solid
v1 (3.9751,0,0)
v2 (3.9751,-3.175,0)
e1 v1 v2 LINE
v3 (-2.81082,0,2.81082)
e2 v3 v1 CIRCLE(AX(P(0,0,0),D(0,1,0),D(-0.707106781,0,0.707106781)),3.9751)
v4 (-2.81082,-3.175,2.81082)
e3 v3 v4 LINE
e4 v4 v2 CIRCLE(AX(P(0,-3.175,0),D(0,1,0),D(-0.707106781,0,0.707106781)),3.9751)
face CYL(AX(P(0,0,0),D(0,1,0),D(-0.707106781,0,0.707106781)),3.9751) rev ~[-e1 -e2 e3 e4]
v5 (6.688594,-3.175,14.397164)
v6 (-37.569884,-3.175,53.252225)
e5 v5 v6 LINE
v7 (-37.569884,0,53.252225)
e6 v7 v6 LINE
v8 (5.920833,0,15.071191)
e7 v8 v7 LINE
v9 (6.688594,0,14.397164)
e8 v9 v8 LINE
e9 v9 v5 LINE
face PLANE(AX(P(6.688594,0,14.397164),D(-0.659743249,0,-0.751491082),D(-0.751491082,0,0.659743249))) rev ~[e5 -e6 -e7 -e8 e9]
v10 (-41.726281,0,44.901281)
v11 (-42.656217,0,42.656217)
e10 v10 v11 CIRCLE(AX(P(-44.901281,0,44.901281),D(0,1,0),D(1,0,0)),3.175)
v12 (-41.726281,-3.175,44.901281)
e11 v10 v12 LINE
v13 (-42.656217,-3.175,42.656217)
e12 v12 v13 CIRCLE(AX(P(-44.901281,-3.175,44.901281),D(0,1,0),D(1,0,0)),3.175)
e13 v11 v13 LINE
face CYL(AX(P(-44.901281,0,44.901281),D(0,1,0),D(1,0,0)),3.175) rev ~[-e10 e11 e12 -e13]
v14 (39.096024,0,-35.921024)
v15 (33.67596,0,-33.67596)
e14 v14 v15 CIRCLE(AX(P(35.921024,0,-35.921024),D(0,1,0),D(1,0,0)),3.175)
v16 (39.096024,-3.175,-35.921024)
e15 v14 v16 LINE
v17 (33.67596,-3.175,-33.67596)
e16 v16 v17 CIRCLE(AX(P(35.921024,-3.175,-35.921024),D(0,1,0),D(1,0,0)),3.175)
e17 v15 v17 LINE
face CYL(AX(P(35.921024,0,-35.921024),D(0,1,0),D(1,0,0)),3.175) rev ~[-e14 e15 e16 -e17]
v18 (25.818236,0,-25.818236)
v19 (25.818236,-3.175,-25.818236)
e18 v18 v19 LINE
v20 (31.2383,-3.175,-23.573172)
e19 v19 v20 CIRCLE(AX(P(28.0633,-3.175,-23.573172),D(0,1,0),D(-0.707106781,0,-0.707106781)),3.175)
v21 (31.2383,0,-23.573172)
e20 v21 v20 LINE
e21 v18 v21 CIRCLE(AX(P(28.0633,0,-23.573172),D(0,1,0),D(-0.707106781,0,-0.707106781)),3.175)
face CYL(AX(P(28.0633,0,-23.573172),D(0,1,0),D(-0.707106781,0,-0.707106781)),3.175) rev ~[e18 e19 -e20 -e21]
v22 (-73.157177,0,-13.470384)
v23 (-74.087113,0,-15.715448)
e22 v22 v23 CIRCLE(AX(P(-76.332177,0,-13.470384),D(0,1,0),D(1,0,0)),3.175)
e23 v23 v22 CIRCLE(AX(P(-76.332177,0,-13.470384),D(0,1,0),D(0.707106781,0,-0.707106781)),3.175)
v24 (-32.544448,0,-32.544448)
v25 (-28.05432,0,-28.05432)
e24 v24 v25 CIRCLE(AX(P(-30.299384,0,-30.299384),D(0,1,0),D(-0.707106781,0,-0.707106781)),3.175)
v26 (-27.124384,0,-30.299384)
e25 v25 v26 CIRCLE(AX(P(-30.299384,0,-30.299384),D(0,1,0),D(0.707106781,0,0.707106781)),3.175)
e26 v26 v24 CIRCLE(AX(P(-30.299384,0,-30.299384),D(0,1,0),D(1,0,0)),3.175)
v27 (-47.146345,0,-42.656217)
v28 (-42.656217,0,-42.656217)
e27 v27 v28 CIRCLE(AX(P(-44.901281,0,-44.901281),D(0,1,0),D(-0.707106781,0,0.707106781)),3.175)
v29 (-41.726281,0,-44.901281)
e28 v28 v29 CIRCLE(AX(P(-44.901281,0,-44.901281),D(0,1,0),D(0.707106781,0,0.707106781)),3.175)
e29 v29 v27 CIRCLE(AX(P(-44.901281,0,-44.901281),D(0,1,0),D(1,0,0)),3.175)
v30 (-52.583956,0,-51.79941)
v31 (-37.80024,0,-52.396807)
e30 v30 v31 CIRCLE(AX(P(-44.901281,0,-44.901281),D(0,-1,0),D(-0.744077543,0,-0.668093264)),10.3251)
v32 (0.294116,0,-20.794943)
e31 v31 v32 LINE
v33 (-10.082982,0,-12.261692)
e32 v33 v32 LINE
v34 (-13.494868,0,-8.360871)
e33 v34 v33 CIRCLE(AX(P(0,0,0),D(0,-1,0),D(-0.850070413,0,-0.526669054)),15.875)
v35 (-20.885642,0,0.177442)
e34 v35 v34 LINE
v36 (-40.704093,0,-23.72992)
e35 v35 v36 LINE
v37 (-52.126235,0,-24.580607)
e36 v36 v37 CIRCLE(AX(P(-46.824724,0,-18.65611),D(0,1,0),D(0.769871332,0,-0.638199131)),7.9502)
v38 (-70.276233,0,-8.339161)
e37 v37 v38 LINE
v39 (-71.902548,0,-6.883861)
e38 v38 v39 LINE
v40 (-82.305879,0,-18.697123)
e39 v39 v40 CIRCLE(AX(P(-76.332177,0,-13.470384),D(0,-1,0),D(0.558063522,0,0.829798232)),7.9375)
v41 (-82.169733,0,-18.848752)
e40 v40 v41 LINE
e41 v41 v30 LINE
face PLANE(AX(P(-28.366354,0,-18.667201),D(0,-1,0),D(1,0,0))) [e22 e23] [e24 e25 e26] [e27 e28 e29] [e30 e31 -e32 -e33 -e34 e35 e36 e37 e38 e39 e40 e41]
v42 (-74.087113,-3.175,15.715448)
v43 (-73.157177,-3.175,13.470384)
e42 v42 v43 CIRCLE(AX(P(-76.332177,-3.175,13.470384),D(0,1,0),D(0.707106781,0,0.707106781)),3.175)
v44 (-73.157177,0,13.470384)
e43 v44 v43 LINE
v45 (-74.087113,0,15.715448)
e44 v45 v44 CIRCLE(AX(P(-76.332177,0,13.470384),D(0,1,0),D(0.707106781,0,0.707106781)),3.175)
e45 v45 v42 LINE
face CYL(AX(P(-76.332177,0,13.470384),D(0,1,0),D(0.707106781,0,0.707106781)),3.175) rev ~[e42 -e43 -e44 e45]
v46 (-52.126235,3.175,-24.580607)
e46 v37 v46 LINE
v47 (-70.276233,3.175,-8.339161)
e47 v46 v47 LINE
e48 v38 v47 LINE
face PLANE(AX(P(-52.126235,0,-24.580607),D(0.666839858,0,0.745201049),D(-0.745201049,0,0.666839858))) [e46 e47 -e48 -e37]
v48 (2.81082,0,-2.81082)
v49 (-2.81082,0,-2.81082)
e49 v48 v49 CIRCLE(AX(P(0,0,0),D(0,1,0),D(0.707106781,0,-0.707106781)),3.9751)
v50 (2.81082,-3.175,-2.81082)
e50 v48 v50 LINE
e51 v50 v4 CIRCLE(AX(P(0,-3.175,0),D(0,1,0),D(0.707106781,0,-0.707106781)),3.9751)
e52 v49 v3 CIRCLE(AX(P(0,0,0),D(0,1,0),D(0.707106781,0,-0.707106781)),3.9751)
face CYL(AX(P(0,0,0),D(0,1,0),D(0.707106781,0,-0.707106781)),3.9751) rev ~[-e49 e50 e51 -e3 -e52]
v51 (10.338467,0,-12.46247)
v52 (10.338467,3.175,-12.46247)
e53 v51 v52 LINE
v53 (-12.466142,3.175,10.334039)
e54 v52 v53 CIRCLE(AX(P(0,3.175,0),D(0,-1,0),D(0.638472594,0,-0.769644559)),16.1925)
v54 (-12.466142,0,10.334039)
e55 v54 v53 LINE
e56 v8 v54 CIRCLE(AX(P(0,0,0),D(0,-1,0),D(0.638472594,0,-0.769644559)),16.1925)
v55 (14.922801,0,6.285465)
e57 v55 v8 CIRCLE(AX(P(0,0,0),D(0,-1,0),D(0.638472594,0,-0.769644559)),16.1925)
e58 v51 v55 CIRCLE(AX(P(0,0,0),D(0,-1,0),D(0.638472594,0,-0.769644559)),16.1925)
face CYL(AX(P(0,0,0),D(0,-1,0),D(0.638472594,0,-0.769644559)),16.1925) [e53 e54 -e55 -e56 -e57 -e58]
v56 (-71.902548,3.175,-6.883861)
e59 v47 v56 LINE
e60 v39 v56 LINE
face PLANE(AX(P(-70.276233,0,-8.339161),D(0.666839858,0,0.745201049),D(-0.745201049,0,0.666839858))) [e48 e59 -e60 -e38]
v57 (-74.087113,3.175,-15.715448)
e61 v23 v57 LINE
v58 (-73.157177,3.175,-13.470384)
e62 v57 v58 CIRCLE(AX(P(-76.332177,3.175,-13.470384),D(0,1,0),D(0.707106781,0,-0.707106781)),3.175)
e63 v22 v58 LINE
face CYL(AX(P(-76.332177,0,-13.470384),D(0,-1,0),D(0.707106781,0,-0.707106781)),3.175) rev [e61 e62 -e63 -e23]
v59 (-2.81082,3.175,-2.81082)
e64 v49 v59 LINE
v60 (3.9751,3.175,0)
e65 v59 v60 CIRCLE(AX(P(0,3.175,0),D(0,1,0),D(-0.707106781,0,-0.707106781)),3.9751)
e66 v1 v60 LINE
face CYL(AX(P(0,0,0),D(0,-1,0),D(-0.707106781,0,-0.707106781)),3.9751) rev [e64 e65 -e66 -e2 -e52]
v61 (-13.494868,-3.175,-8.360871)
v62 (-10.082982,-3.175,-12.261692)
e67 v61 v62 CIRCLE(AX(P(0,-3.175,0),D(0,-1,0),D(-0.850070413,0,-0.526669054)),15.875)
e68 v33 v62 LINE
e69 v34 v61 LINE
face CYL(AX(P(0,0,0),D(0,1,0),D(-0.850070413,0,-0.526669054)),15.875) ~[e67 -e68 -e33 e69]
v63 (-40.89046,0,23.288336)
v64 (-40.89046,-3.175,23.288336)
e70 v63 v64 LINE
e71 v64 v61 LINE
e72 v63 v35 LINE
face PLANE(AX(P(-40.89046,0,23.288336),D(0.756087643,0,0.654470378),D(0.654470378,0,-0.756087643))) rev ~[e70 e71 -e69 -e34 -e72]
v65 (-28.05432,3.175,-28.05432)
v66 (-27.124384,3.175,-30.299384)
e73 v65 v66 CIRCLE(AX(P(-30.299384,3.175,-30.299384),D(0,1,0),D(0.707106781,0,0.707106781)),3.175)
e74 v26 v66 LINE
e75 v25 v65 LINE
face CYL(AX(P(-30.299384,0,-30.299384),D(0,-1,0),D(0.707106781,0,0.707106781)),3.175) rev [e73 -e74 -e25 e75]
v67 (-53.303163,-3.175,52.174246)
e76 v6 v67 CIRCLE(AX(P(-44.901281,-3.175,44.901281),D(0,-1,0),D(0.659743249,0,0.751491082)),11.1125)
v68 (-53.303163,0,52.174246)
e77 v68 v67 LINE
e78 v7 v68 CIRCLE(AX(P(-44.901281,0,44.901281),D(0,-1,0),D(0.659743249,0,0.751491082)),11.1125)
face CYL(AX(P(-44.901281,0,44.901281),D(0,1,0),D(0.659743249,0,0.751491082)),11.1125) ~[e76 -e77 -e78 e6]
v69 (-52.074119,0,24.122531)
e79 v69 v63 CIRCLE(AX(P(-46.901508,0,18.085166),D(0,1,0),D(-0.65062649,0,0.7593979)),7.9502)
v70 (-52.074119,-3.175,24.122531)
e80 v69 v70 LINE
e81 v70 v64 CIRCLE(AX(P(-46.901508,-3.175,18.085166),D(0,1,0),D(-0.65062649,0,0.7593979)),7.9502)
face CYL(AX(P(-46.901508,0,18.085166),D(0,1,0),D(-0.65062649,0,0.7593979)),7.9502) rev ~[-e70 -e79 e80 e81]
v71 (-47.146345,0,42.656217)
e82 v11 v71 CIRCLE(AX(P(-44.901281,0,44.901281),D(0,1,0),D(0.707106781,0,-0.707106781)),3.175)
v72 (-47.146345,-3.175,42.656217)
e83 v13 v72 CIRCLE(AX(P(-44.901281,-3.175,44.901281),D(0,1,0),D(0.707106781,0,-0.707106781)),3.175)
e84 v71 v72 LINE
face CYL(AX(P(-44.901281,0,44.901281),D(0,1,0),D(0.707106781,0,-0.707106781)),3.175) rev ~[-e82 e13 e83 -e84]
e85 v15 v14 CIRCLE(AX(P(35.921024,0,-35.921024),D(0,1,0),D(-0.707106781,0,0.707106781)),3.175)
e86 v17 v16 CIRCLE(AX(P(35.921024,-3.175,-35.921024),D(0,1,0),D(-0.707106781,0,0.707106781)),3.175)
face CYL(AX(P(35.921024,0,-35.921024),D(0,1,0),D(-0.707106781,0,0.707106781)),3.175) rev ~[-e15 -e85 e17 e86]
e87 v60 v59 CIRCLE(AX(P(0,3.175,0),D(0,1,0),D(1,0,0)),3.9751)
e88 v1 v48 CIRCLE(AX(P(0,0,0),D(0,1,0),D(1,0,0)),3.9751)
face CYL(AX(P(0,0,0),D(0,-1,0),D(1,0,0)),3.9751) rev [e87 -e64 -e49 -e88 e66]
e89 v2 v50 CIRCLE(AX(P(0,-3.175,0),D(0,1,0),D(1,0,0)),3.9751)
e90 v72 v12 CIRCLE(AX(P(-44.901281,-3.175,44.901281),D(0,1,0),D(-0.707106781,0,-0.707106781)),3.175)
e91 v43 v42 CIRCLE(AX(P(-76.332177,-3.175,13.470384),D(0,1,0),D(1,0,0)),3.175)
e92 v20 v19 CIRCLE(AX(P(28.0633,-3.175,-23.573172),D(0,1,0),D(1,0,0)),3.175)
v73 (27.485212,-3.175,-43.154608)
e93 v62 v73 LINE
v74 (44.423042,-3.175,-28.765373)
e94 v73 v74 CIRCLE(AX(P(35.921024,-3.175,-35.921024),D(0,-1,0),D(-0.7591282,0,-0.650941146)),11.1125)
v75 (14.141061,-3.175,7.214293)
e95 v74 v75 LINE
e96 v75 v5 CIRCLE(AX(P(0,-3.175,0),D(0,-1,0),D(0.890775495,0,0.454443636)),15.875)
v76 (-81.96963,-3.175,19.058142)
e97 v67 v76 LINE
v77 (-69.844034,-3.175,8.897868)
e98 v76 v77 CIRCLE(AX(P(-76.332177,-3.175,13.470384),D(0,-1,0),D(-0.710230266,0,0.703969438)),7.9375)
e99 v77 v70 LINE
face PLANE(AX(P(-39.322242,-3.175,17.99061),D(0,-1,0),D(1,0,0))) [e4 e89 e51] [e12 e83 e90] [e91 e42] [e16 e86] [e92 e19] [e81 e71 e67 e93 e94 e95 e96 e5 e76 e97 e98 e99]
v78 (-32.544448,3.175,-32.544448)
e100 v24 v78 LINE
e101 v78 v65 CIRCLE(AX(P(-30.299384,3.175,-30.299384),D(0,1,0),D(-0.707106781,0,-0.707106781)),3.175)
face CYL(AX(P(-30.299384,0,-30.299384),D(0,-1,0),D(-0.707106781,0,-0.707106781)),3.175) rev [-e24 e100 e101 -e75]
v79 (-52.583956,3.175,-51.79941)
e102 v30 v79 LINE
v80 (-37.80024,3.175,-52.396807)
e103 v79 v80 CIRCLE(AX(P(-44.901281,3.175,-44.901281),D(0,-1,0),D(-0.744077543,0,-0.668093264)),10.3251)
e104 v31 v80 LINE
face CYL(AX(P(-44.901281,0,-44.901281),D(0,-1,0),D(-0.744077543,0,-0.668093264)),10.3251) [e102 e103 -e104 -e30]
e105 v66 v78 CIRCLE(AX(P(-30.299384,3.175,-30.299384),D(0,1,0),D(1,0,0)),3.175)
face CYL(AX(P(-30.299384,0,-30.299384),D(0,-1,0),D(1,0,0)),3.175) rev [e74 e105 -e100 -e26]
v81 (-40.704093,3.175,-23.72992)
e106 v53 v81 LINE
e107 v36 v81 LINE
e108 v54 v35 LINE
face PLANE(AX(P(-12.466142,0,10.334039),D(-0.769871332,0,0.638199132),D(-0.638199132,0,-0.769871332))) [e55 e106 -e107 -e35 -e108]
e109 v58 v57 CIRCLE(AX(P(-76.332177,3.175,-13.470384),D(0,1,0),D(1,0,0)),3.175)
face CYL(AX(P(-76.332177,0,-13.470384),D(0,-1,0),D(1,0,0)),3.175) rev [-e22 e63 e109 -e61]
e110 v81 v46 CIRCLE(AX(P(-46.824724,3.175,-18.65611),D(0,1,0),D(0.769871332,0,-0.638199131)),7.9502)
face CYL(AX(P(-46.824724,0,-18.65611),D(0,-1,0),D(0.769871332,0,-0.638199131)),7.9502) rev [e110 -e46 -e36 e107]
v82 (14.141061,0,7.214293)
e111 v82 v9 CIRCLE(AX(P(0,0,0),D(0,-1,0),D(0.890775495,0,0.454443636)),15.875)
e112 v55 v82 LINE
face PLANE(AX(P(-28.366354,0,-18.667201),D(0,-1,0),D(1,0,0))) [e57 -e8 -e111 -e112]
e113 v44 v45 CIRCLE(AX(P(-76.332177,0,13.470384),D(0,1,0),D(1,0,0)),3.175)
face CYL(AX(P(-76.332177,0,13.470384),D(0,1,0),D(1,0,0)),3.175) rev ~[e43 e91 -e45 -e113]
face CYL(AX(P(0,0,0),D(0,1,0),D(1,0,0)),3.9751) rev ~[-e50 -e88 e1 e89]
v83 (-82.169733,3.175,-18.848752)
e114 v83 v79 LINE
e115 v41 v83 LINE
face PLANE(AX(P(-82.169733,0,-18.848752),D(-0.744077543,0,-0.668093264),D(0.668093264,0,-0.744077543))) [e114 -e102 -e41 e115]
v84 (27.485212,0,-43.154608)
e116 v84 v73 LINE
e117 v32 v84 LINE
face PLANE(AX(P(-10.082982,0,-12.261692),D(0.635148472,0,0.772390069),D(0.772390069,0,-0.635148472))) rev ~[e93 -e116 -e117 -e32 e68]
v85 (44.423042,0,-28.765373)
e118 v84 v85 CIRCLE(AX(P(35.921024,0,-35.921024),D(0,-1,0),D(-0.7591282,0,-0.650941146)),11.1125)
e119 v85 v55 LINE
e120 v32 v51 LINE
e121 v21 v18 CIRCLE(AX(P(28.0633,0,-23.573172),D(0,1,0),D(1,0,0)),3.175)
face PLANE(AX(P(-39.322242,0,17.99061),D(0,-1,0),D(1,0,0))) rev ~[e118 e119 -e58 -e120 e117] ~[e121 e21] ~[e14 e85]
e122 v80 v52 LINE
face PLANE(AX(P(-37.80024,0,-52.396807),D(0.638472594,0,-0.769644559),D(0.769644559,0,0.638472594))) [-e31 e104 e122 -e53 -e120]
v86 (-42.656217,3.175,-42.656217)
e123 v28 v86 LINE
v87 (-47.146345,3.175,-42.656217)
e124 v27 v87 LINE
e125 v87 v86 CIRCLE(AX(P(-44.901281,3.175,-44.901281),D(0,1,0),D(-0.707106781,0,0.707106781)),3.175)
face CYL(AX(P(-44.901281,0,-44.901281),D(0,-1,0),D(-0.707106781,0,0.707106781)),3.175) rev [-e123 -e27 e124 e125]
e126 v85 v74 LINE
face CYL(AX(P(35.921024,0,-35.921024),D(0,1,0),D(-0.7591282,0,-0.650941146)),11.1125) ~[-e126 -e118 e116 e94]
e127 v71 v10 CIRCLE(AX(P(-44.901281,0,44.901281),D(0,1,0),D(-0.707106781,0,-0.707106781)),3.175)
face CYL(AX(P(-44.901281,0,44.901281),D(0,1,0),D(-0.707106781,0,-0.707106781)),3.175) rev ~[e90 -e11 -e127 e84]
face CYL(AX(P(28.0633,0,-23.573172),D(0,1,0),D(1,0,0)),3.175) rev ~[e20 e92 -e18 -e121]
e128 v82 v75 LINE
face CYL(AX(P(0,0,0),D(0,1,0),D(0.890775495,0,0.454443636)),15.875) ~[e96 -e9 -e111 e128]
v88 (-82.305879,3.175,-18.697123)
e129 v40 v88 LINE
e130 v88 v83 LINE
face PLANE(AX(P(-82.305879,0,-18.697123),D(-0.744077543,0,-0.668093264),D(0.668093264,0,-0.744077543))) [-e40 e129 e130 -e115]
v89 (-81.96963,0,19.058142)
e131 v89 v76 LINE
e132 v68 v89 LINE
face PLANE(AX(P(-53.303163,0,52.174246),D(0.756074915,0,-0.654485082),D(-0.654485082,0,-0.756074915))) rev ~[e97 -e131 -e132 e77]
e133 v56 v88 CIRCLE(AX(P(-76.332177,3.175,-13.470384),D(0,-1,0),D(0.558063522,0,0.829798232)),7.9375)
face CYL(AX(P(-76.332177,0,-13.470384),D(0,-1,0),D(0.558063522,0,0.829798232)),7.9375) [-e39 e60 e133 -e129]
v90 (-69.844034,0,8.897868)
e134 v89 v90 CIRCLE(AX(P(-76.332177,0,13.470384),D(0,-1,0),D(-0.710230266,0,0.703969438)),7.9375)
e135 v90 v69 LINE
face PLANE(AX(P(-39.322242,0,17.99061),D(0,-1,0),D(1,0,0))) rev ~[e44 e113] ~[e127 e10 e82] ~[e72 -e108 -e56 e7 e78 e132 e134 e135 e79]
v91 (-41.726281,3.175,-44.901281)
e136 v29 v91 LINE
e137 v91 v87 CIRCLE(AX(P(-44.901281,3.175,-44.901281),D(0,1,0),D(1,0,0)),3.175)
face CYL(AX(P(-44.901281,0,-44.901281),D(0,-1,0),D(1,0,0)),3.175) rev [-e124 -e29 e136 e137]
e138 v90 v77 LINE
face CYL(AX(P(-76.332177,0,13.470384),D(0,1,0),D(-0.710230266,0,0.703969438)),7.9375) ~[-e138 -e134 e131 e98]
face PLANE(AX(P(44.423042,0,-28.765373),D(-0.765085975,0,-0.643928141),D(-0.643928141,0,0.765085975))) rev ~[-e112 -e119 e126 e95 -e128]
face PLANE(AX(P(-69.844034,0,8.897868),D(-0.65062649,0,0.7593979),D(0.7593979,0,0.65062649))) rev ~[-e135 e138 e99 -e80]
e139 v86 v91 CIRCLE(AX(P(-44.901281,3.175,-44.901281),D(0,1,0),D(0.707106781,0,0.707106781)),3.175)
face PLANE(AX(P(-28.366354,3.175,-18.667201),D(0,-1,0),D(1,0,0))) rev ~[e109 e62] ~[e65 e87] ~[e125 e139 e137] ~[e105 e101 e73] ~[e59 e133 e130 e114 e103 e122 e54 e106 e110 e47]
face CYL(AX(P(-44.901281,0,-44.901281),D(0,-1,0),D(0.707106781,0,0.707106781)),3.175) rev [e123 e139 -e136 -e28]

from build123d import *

# Parameters (mm, degrees)
F1_DEPTH = 3.175
F3_DEPTH = 3.175


with BuildPart() as f1:
    # F0 (on Front) → F1 (new body)
    with BuildSketch(Plane.XZ):
        with BuildLine():
            ThreePointArc((-13.4948678072, -8.3608712384), (-15.7694846608, 1.8272872063), (-11.2253201513, 11.2253201513))
            Line((-11.2253201513, 11.2253201513), (-37.0435564994, 37.0435564994))
            ThreePointArc((-37.0435564994, 37.0435564994), (-44.9012806053, 33.7887806053), (-52.7590047113, 37.0435564994))
            Line((-52.7590047113, 37.0435564994), (-70.7195169534, 19.0830442573))
            ThreePointArc((-70.7195169534, 19.0830442573), (-68.9988832398, 16.507933926), (-68.3946770291, 13.4703841816))
            ThreePointArc((-68.3946770291, 13.4703841816), (-68.7656870241, 11.0720232299), (-69.8440339436, 8.8978678555))
            Line((-69.8440339436, 8.8978678555), (-52.0741189422, 24.1225312549))
            ThreePointArc((-52.0741189422, 24.1225312549), (-46.3101415882, 26.0133414911), (-40.8904602416, 23.2883364656))
            Line((-40.8904602416, 23.2883364656), (-13.4948678072, -8.3608712384))
        make_face()
        with BuildLine():
            Line((-70.7195169534, 19.0830442573), (-52.7590047113, 37.0435564994))
            ThreePointArc((-52.7590047113, 37.0435564994), (-56.0066011093, 44.501890128), (-53.3031631019, 52.1742460778))
            Line((-53.3031631019, 52.1742460778), (-81.9696297644, 19.0581415947))
            ThreePointArc((-81.9696297644, 19.0581415947), (-76.3497470218, 21.4078647356), (-70.7195169534, 19.0830442573))
        make_face()
        with BuildLine():
            ThreePointArc((-52.7590047113, 37.0435564994), (-44.9012806053, 33.7887806053), (-37.0435564994, 37.0435564994))
            Line((-37.0435564994, 37.0435564994), (-42.6562165751, 42.6562165751))
            ThreePointArc((-42.6562165751, 42.6562165751), (-44.9012806053, 41.7262806053), (-47.1463446356, 42.6562165751))
            Line((-47.1463446356, 42.6562165751), (-52.7590047113, 37.0435564994))
        make_face()
        with BuildLine():
            Line((-37.0435564994, 37.0435564994), (-11.2253201513, 11.2253201513))
            ThreePointArc((-11.2253201513, 11.2253201513), (-2.7677824051, 15.6318586725), (6.6885940582, 14.397164114))
            Line((6.6885940582, 14.397164114), (-37.5698837561, 53.2522252519))
            ThreePointArc((-37.5698837561, 53.2522252519), (-34.7780942558, 49.4848113821), (-33.7887806053, 44.9012806053))
            ThreePointArc((-33.7887806053, 44.9012806053), (-34.6346693003, 40.6487109632), (-37.0435564994, 37.0435564994))
        make_face()
        with BuildLine():
            Line((-42.6562165751, 42.6562165751), (-37.0435564994, 37.0435564994))
            ThreePointArc((-37.0435564994, 37.0435564994), (-34.6346693003, 40.6487109632), (-33.7887806053, 44.9012806053))
            ThreePointArc((-33.7887806053, 44.9012806053), (-34.7780942558, 49.4848113821), (-37.5698837561, 53.2522252519))
            ThreePointArc((-37.5698837561, 53.2522252519), (-45.6608822478, 55.9877886938), (-53.3031631019, 52.1742460778))
            ThreePointArc((-53.3031631019, 52.1742460778), (-56.0066011093, 44.501890128), (-52.7590047113, 37.0435564994))
            Line((-52.7590047113, 37.0435564994), (-47.1463446356, 42.6562165751))
            ThreePointArc((-47.1463446356, 42.6562165751), (-46.1163005031, 47.8345981211), (-41.7262806053, 44.9012806053))
            ThreePointArc((-41.7262806053, 44.9012806053), (-41.9679630896, 43.6862607076), (-42.6562165751, 42.6562165751))
        make_face()
        with BuildLine():
            ThreePointArc((-68.3946770291, 13.4703841816), (-68.9988832398, 16.507933926), (-70.7195169534, 19.0830442573))
            ThreePointArc((-70.7195169534, 19.0830442573), (-76.3497470218, 21.4078647356), (-81.9696297644, 19.0581415947))
            ThreePointArc((-81.9696297644, 19.0581415947), (-81.4300892617, 7.3863725841), (-69.8440339436, 8.8978678555))
            ThreePointArc((-69.8440339436, 8.8978678555), (-68.7656870241, 11.0720232299), (-68.3946770291, 13.4703841816))
        make_face()
        with BuildLine():
            ThreePointArc((-73.1571770291, 13.4703841816), (-79.2654945448, 12.2553642838), (-74.0871129988, 15.7154482119))
            ThreePointArc((-74.0871129988, 15.7154482119), (-73.3988595134, 14.6854040794), (-73.1571770291, 13.4703841816))
        make_face(mode=Mode.SUBTRACT)
        with BuildLine():
            ThreePointArc((-2.8108201659, 2.8108201659), (1.521204912, 3.6725135297), (3.9751, 0))
            ThreePointArc((3.9751, 0), (3.6725135297, -1.521204912), (2.8108201659, -2.8108201659))
            Line((2.8108201659, -2.8108201659), (11.2253201513, -11.2253201513))
            ThreePointArc((11.2253201513, -11.2253201513), (14.6665875786, -6.0750994888), (15.875, 0))
            ThreePointArc((15.875, 0), (15.4354295053, 3.7098707505), (14.1410609782, 7.2142927173))
            ThreePointArc((14.1410609782, 7.2142927173), (11.0166711219, 11.4301610833), (6.6885940582, 14.397164114))
            ThreePointArc((6.6885940582, 14.397164114), (-2.7677824051, 15.6318586725), (-11.2253201513, 11.2253201513))
            Line((-11.2253201513, 11.2253201513), (-2.8108201659, 2.8108201659))
        make_face()
        with BuildLine():
            ThreePointArc((2.8108201659, -2.8108201659), (-2.8108201659, -2.8108201659), (-2.8108201659, 2.8108201659))
            Line((-2.8108201659, 2.8108201659), (-11.2253201513, 11.2253201513))
            ThreePointArc((-11.2253201513, 11.2253201513), (-15.7694846608, 1.8272872063), (-13.4948678072, -8.3608712384))
            ThreePointArc((-13.4948678072, -8.3608712384), (-11.9491778628, -10.4514483878), (-10.0829819903, -12.2616923458))
            ThreePointArc((-10.0829819903, -12.2616923458), (0.7712009789, -15.8562566216), (11.2253201513, -11.2253201513))
            Line((11.2253201513, -11.2253201513), (2.8108201659, -2.8108201659))
        make_face()
        with BuildLine():
            Line((25.8182363481, -25.8182363481), (11.2253201513, -11.2253201513))
            ThreePointArc((11.2253201513, -11.2253201513), (0.7712009789, -15.8562566216), (-10.0829819903, -12.2616923458))
            Line((-10.0829819903, -12.2616923458), (27.4852123563, -43.1546079663))
            ThreePointArc((27.4852123563, -43.1546079663), (24.8166684953, -35.4956607342), (28.0633003783, -28.0633003783))
            Line((28.0633003783, -28.0633003783), (25.8182363481, -25.8182363481))
        make_face()
        with BuildLine():
            ThreePointArc((15.875, 0), (14.6665875786, -6.0750994888), (11.2253201513, -11.2253201513))
            Line((11.2253201513, -11.2253201513), (25.8182363481, -25.8182363481))
            Line((25.8182363481, -25.8182363481), (28.0633003783, -28.0633003783))
            ThreePointArc((28.0633003783, -28.0633003783), (36.3974750277, -24.8187431363), (44.4230423823, -28.7653730177))
            Line((44.4230423823, -28.7653730177), (14.1410609782, 7.2142927173))
            ThreePointArc((14.1410609782, 7.2142927173), (15.4354295053, 3.7098707505), (15.875, 0))
        make_face()
        with BuildLine():
            ThreePointArc((31.2383003783, -23.5731723178), (29.2783202761, -26.5064898335), (25.8182363481, -25.8182363481))
            ThreePointArc((25.8182363481, -25.8182363481), (26.8482804806, -20.6398548021), (31.2383003783, -23.5731723178))
        make_face(mode=Mode.SUBTRACT)
        with BuildLine():
            ThreePointArc((28.0633003783, -28.0633003783), (24.8166684953, -35.4956607342), (27.4852123563, -43.1546079663))
            ThreePointArc((27.4852123563, -43.1546079663), (39.7774926857, -46.3428913641), (47.0335244843, -35.9210244843))
            ThreePointArc((47.0335244843, -35.9210244843), (46.3605247152, -32.1125482563), (44.4230423823, -28.7653730177))
            ThreePointArc((44.4230423823, -28.7653730177), (36.3974750277, -24.8187431363), (28.0633003783, -28.0633003783))
        make_face()
        with BuildLine():
            ThreePointArc((39.0960244843, -35.9210244843), (34.7060045865, -38.854342), (33.675960454, -33.675960454))
            ThreePointArc((33.675960454, -33.675960454), (37.136044382, -32.9877069686), (39.0960244843, -35.9210244843))
        make_face(mode=Mode.SUBTRACT)
    extrude(amount=F1_DEPTH)

    # F2 (on Front) → F3 (join)
    with BuildSketch(Plane.XZ):
        with BuildLine():
            Line((-37.8002404479, -52.3968071841), (10.3384674722, -12.4624695216))
            ThreePointArc((10.3384674722, -12.4624695216), (11.4477925566, 11.4518601908), (-12.4661415509, 10.3340394368))
            Line((-12.4661415509, 10.3340394368), (-40.7040933076, -23.7299203398))
            ThreePointArc((-40.7040933076, -23.7299203398), (-46.2342528039, -26.5843517404), (-52.126234613, -24.5806069871))
            Line((-52.126234613, -24.5806069871), (-70.2762329196, -8.3391614041))
            ThreePointArc((-70.2762329196, -8.3391614041), (-68.8798967533, -10.737725231), (-68.3946770291, -13.4703841816))
            ThreePointArc((-68.3946770291, -13.4703841816), (-68.9988832398, -16.507933926), (-70.7195169534, -19.0830442573))
            Line((-70.7195169534, -19.0830442573), (-52.2022288318, -37.6003323789))
            ThreePointArc((-52.2022288318, -37.6003323789), (-44.9012806053, -34.5761806053), (-37.6003323789, -37.6003323789))
            ThreePointArc((-37.6003323789, -37.6003323789), (-35.3621320442, -40.9500358978), (-34.5761806053, -44.9012806053))
            ThreePointArc((-34.5761806053, -44.9012806053), (-35.4163810345, -48.9810318405), (-37.8002404479, -52.3968071841))
        make_face()
        with BuildLine():
            ThreePointArc((-27.1243841525, -30.2993841525), (-29.0843642547, -33.2327016682), (-32.5444481828, -32.5444481828))
            ThreePointArc((-32.5444481828, -32.5444481828), (-32.5444481828, -28.0543201222), (-28.0543201222, -28.0543201222))
            ThreePointArc((-28.0543201222, -28.0543201222), (-27.3660666368, -29.0843642547), (-27.1243841525, -30.2993841525))
        make_face(mode=Mode.SUBTRACT)
        with BuildLine():
            ThreePointArc((3.9751, 0), (1.521204912, -3.6725135297), (-2.8108201659, -2.8108201659))
            ThreePointArc((-2.8108201659, -2.8108201659), (-1.521204912, 3.6725135297), (3.9751, 0))
        make_face(mode=Mode.SUBTRACT)
        with BuildLine():
            Line((-82.1697332902, -18.8487522564), (-52.5839556456, -51.799410369))
            ThreePointArc((-52.5839556456, -51.799410369), (-55.2226514199, -44.6238017438), (-52.2022288318, -37.6003323789))
            Line((-52.2022288318, -37.6003323789), (-70.7195169534, -19.0830442573))
            ThreePointArc((-70.7195169534, -19.0830442573), (-76.494558552, -21.4062230466), (-82.1697332902, -18.8487522564))
        make_face()
        with BuildLine():
            ThreePointArc((-52.5839556456, -51.799410369), (-45.3181685075, -55.2179610059), (-37.8002404479, -52.3968071841))
            ThreePointArc((-37.8002404479, -52.3968071841), (-35.4163810345, -48.9810318405), (-34.5761806053, -44.9012806053))
            ThreePointArc((-34.5761806053, -44.9012806053), (-35.3621320442, -40.9500358978), (-37.6003323789, -37.6003323789))
            Line((-37.6003323789, -37.6003323789), (-42.6562165751, -42.6562165751))
            ThreePointArc((-42.6562165751, -42.6562165751), (-41.9679630896, -43.6862607076), (-41.7262806053, -44.9012806053))
            ThreePointArc((-41.7262806053, -44.9012806053), (-46.1163005031, -47.8345981211), (-47.1463446356, -42.6562165751))
            Line((-47.1463446356, -42.6562165751), (-52.2022288318, -37.6003323789))
            ThreePointArc((-52.2022288318, -37.6003323789), (-55.2226514199, -44.6238017438), (-52.5839556456, -51.799410369))
        make_face()
        with BuildLine():
            ThreePointArc((-37.6003323789, -37.6003323789), (-44.9012806053, -34.5761806053), (-52.2022288318, -37.6003323789))
            Line((-52.2022288318, -37.6003323789), (-47.1463446356, -42.6562165751))
            ThreePointArc((-47.1463446356, -42.6562165751), (-44.9012806053, -41.7262806053), (-42.6562165751, -42.6562165751))
            Line((-42.6562165751, -42.6562165751), (-37.6003323789, -37.6003323789))
        make_face()
        with BuildLine():
            Line((-82.3058785178, -18.697122818), (-82.1697332902, -18.8487522564))
            ThreePointArc((-82.1697332902, -18.8487522564), (-76.494558552, -21.4062230466), (-70.7195169534, -19.0830442573))
            ThreePointArc((-70.7195169534, -19.0830442573), (-68.9988832398, -16.507933926), (-68.3946770291, -13.4703841816))
            ThreePointArc((-68.3946770291, -13.4703841816), (-68.8798967533, -10.737725231), (-70.2762329196, -8.3391614041))
            Line((-70.2762329196, -8.3391614041), (-71.9025478223, -6.8838607177))
            ThreePointArc((-71.9025478223, -6.8838607177), (-82.2890495446, -8.2244737664), (-82.3058785178, -18.697122818))
        make_face()
        with BuildLine():
            ThreePointArc((-73.1571770291, -13.4703841816), (-73.3988595134, -14.6854040794), (-74.0871129988, -15.7154482119))
            ThreePointArc((-74.0871129988, -15.7154482119), (-79.2654945448, -12.2553642838), (-73.1571770291, -13.4703841816))
        make_face(mode=Mode.SUBTRACT)
    extrude(amount=-F3_DEPTH)


solid = f1.part
